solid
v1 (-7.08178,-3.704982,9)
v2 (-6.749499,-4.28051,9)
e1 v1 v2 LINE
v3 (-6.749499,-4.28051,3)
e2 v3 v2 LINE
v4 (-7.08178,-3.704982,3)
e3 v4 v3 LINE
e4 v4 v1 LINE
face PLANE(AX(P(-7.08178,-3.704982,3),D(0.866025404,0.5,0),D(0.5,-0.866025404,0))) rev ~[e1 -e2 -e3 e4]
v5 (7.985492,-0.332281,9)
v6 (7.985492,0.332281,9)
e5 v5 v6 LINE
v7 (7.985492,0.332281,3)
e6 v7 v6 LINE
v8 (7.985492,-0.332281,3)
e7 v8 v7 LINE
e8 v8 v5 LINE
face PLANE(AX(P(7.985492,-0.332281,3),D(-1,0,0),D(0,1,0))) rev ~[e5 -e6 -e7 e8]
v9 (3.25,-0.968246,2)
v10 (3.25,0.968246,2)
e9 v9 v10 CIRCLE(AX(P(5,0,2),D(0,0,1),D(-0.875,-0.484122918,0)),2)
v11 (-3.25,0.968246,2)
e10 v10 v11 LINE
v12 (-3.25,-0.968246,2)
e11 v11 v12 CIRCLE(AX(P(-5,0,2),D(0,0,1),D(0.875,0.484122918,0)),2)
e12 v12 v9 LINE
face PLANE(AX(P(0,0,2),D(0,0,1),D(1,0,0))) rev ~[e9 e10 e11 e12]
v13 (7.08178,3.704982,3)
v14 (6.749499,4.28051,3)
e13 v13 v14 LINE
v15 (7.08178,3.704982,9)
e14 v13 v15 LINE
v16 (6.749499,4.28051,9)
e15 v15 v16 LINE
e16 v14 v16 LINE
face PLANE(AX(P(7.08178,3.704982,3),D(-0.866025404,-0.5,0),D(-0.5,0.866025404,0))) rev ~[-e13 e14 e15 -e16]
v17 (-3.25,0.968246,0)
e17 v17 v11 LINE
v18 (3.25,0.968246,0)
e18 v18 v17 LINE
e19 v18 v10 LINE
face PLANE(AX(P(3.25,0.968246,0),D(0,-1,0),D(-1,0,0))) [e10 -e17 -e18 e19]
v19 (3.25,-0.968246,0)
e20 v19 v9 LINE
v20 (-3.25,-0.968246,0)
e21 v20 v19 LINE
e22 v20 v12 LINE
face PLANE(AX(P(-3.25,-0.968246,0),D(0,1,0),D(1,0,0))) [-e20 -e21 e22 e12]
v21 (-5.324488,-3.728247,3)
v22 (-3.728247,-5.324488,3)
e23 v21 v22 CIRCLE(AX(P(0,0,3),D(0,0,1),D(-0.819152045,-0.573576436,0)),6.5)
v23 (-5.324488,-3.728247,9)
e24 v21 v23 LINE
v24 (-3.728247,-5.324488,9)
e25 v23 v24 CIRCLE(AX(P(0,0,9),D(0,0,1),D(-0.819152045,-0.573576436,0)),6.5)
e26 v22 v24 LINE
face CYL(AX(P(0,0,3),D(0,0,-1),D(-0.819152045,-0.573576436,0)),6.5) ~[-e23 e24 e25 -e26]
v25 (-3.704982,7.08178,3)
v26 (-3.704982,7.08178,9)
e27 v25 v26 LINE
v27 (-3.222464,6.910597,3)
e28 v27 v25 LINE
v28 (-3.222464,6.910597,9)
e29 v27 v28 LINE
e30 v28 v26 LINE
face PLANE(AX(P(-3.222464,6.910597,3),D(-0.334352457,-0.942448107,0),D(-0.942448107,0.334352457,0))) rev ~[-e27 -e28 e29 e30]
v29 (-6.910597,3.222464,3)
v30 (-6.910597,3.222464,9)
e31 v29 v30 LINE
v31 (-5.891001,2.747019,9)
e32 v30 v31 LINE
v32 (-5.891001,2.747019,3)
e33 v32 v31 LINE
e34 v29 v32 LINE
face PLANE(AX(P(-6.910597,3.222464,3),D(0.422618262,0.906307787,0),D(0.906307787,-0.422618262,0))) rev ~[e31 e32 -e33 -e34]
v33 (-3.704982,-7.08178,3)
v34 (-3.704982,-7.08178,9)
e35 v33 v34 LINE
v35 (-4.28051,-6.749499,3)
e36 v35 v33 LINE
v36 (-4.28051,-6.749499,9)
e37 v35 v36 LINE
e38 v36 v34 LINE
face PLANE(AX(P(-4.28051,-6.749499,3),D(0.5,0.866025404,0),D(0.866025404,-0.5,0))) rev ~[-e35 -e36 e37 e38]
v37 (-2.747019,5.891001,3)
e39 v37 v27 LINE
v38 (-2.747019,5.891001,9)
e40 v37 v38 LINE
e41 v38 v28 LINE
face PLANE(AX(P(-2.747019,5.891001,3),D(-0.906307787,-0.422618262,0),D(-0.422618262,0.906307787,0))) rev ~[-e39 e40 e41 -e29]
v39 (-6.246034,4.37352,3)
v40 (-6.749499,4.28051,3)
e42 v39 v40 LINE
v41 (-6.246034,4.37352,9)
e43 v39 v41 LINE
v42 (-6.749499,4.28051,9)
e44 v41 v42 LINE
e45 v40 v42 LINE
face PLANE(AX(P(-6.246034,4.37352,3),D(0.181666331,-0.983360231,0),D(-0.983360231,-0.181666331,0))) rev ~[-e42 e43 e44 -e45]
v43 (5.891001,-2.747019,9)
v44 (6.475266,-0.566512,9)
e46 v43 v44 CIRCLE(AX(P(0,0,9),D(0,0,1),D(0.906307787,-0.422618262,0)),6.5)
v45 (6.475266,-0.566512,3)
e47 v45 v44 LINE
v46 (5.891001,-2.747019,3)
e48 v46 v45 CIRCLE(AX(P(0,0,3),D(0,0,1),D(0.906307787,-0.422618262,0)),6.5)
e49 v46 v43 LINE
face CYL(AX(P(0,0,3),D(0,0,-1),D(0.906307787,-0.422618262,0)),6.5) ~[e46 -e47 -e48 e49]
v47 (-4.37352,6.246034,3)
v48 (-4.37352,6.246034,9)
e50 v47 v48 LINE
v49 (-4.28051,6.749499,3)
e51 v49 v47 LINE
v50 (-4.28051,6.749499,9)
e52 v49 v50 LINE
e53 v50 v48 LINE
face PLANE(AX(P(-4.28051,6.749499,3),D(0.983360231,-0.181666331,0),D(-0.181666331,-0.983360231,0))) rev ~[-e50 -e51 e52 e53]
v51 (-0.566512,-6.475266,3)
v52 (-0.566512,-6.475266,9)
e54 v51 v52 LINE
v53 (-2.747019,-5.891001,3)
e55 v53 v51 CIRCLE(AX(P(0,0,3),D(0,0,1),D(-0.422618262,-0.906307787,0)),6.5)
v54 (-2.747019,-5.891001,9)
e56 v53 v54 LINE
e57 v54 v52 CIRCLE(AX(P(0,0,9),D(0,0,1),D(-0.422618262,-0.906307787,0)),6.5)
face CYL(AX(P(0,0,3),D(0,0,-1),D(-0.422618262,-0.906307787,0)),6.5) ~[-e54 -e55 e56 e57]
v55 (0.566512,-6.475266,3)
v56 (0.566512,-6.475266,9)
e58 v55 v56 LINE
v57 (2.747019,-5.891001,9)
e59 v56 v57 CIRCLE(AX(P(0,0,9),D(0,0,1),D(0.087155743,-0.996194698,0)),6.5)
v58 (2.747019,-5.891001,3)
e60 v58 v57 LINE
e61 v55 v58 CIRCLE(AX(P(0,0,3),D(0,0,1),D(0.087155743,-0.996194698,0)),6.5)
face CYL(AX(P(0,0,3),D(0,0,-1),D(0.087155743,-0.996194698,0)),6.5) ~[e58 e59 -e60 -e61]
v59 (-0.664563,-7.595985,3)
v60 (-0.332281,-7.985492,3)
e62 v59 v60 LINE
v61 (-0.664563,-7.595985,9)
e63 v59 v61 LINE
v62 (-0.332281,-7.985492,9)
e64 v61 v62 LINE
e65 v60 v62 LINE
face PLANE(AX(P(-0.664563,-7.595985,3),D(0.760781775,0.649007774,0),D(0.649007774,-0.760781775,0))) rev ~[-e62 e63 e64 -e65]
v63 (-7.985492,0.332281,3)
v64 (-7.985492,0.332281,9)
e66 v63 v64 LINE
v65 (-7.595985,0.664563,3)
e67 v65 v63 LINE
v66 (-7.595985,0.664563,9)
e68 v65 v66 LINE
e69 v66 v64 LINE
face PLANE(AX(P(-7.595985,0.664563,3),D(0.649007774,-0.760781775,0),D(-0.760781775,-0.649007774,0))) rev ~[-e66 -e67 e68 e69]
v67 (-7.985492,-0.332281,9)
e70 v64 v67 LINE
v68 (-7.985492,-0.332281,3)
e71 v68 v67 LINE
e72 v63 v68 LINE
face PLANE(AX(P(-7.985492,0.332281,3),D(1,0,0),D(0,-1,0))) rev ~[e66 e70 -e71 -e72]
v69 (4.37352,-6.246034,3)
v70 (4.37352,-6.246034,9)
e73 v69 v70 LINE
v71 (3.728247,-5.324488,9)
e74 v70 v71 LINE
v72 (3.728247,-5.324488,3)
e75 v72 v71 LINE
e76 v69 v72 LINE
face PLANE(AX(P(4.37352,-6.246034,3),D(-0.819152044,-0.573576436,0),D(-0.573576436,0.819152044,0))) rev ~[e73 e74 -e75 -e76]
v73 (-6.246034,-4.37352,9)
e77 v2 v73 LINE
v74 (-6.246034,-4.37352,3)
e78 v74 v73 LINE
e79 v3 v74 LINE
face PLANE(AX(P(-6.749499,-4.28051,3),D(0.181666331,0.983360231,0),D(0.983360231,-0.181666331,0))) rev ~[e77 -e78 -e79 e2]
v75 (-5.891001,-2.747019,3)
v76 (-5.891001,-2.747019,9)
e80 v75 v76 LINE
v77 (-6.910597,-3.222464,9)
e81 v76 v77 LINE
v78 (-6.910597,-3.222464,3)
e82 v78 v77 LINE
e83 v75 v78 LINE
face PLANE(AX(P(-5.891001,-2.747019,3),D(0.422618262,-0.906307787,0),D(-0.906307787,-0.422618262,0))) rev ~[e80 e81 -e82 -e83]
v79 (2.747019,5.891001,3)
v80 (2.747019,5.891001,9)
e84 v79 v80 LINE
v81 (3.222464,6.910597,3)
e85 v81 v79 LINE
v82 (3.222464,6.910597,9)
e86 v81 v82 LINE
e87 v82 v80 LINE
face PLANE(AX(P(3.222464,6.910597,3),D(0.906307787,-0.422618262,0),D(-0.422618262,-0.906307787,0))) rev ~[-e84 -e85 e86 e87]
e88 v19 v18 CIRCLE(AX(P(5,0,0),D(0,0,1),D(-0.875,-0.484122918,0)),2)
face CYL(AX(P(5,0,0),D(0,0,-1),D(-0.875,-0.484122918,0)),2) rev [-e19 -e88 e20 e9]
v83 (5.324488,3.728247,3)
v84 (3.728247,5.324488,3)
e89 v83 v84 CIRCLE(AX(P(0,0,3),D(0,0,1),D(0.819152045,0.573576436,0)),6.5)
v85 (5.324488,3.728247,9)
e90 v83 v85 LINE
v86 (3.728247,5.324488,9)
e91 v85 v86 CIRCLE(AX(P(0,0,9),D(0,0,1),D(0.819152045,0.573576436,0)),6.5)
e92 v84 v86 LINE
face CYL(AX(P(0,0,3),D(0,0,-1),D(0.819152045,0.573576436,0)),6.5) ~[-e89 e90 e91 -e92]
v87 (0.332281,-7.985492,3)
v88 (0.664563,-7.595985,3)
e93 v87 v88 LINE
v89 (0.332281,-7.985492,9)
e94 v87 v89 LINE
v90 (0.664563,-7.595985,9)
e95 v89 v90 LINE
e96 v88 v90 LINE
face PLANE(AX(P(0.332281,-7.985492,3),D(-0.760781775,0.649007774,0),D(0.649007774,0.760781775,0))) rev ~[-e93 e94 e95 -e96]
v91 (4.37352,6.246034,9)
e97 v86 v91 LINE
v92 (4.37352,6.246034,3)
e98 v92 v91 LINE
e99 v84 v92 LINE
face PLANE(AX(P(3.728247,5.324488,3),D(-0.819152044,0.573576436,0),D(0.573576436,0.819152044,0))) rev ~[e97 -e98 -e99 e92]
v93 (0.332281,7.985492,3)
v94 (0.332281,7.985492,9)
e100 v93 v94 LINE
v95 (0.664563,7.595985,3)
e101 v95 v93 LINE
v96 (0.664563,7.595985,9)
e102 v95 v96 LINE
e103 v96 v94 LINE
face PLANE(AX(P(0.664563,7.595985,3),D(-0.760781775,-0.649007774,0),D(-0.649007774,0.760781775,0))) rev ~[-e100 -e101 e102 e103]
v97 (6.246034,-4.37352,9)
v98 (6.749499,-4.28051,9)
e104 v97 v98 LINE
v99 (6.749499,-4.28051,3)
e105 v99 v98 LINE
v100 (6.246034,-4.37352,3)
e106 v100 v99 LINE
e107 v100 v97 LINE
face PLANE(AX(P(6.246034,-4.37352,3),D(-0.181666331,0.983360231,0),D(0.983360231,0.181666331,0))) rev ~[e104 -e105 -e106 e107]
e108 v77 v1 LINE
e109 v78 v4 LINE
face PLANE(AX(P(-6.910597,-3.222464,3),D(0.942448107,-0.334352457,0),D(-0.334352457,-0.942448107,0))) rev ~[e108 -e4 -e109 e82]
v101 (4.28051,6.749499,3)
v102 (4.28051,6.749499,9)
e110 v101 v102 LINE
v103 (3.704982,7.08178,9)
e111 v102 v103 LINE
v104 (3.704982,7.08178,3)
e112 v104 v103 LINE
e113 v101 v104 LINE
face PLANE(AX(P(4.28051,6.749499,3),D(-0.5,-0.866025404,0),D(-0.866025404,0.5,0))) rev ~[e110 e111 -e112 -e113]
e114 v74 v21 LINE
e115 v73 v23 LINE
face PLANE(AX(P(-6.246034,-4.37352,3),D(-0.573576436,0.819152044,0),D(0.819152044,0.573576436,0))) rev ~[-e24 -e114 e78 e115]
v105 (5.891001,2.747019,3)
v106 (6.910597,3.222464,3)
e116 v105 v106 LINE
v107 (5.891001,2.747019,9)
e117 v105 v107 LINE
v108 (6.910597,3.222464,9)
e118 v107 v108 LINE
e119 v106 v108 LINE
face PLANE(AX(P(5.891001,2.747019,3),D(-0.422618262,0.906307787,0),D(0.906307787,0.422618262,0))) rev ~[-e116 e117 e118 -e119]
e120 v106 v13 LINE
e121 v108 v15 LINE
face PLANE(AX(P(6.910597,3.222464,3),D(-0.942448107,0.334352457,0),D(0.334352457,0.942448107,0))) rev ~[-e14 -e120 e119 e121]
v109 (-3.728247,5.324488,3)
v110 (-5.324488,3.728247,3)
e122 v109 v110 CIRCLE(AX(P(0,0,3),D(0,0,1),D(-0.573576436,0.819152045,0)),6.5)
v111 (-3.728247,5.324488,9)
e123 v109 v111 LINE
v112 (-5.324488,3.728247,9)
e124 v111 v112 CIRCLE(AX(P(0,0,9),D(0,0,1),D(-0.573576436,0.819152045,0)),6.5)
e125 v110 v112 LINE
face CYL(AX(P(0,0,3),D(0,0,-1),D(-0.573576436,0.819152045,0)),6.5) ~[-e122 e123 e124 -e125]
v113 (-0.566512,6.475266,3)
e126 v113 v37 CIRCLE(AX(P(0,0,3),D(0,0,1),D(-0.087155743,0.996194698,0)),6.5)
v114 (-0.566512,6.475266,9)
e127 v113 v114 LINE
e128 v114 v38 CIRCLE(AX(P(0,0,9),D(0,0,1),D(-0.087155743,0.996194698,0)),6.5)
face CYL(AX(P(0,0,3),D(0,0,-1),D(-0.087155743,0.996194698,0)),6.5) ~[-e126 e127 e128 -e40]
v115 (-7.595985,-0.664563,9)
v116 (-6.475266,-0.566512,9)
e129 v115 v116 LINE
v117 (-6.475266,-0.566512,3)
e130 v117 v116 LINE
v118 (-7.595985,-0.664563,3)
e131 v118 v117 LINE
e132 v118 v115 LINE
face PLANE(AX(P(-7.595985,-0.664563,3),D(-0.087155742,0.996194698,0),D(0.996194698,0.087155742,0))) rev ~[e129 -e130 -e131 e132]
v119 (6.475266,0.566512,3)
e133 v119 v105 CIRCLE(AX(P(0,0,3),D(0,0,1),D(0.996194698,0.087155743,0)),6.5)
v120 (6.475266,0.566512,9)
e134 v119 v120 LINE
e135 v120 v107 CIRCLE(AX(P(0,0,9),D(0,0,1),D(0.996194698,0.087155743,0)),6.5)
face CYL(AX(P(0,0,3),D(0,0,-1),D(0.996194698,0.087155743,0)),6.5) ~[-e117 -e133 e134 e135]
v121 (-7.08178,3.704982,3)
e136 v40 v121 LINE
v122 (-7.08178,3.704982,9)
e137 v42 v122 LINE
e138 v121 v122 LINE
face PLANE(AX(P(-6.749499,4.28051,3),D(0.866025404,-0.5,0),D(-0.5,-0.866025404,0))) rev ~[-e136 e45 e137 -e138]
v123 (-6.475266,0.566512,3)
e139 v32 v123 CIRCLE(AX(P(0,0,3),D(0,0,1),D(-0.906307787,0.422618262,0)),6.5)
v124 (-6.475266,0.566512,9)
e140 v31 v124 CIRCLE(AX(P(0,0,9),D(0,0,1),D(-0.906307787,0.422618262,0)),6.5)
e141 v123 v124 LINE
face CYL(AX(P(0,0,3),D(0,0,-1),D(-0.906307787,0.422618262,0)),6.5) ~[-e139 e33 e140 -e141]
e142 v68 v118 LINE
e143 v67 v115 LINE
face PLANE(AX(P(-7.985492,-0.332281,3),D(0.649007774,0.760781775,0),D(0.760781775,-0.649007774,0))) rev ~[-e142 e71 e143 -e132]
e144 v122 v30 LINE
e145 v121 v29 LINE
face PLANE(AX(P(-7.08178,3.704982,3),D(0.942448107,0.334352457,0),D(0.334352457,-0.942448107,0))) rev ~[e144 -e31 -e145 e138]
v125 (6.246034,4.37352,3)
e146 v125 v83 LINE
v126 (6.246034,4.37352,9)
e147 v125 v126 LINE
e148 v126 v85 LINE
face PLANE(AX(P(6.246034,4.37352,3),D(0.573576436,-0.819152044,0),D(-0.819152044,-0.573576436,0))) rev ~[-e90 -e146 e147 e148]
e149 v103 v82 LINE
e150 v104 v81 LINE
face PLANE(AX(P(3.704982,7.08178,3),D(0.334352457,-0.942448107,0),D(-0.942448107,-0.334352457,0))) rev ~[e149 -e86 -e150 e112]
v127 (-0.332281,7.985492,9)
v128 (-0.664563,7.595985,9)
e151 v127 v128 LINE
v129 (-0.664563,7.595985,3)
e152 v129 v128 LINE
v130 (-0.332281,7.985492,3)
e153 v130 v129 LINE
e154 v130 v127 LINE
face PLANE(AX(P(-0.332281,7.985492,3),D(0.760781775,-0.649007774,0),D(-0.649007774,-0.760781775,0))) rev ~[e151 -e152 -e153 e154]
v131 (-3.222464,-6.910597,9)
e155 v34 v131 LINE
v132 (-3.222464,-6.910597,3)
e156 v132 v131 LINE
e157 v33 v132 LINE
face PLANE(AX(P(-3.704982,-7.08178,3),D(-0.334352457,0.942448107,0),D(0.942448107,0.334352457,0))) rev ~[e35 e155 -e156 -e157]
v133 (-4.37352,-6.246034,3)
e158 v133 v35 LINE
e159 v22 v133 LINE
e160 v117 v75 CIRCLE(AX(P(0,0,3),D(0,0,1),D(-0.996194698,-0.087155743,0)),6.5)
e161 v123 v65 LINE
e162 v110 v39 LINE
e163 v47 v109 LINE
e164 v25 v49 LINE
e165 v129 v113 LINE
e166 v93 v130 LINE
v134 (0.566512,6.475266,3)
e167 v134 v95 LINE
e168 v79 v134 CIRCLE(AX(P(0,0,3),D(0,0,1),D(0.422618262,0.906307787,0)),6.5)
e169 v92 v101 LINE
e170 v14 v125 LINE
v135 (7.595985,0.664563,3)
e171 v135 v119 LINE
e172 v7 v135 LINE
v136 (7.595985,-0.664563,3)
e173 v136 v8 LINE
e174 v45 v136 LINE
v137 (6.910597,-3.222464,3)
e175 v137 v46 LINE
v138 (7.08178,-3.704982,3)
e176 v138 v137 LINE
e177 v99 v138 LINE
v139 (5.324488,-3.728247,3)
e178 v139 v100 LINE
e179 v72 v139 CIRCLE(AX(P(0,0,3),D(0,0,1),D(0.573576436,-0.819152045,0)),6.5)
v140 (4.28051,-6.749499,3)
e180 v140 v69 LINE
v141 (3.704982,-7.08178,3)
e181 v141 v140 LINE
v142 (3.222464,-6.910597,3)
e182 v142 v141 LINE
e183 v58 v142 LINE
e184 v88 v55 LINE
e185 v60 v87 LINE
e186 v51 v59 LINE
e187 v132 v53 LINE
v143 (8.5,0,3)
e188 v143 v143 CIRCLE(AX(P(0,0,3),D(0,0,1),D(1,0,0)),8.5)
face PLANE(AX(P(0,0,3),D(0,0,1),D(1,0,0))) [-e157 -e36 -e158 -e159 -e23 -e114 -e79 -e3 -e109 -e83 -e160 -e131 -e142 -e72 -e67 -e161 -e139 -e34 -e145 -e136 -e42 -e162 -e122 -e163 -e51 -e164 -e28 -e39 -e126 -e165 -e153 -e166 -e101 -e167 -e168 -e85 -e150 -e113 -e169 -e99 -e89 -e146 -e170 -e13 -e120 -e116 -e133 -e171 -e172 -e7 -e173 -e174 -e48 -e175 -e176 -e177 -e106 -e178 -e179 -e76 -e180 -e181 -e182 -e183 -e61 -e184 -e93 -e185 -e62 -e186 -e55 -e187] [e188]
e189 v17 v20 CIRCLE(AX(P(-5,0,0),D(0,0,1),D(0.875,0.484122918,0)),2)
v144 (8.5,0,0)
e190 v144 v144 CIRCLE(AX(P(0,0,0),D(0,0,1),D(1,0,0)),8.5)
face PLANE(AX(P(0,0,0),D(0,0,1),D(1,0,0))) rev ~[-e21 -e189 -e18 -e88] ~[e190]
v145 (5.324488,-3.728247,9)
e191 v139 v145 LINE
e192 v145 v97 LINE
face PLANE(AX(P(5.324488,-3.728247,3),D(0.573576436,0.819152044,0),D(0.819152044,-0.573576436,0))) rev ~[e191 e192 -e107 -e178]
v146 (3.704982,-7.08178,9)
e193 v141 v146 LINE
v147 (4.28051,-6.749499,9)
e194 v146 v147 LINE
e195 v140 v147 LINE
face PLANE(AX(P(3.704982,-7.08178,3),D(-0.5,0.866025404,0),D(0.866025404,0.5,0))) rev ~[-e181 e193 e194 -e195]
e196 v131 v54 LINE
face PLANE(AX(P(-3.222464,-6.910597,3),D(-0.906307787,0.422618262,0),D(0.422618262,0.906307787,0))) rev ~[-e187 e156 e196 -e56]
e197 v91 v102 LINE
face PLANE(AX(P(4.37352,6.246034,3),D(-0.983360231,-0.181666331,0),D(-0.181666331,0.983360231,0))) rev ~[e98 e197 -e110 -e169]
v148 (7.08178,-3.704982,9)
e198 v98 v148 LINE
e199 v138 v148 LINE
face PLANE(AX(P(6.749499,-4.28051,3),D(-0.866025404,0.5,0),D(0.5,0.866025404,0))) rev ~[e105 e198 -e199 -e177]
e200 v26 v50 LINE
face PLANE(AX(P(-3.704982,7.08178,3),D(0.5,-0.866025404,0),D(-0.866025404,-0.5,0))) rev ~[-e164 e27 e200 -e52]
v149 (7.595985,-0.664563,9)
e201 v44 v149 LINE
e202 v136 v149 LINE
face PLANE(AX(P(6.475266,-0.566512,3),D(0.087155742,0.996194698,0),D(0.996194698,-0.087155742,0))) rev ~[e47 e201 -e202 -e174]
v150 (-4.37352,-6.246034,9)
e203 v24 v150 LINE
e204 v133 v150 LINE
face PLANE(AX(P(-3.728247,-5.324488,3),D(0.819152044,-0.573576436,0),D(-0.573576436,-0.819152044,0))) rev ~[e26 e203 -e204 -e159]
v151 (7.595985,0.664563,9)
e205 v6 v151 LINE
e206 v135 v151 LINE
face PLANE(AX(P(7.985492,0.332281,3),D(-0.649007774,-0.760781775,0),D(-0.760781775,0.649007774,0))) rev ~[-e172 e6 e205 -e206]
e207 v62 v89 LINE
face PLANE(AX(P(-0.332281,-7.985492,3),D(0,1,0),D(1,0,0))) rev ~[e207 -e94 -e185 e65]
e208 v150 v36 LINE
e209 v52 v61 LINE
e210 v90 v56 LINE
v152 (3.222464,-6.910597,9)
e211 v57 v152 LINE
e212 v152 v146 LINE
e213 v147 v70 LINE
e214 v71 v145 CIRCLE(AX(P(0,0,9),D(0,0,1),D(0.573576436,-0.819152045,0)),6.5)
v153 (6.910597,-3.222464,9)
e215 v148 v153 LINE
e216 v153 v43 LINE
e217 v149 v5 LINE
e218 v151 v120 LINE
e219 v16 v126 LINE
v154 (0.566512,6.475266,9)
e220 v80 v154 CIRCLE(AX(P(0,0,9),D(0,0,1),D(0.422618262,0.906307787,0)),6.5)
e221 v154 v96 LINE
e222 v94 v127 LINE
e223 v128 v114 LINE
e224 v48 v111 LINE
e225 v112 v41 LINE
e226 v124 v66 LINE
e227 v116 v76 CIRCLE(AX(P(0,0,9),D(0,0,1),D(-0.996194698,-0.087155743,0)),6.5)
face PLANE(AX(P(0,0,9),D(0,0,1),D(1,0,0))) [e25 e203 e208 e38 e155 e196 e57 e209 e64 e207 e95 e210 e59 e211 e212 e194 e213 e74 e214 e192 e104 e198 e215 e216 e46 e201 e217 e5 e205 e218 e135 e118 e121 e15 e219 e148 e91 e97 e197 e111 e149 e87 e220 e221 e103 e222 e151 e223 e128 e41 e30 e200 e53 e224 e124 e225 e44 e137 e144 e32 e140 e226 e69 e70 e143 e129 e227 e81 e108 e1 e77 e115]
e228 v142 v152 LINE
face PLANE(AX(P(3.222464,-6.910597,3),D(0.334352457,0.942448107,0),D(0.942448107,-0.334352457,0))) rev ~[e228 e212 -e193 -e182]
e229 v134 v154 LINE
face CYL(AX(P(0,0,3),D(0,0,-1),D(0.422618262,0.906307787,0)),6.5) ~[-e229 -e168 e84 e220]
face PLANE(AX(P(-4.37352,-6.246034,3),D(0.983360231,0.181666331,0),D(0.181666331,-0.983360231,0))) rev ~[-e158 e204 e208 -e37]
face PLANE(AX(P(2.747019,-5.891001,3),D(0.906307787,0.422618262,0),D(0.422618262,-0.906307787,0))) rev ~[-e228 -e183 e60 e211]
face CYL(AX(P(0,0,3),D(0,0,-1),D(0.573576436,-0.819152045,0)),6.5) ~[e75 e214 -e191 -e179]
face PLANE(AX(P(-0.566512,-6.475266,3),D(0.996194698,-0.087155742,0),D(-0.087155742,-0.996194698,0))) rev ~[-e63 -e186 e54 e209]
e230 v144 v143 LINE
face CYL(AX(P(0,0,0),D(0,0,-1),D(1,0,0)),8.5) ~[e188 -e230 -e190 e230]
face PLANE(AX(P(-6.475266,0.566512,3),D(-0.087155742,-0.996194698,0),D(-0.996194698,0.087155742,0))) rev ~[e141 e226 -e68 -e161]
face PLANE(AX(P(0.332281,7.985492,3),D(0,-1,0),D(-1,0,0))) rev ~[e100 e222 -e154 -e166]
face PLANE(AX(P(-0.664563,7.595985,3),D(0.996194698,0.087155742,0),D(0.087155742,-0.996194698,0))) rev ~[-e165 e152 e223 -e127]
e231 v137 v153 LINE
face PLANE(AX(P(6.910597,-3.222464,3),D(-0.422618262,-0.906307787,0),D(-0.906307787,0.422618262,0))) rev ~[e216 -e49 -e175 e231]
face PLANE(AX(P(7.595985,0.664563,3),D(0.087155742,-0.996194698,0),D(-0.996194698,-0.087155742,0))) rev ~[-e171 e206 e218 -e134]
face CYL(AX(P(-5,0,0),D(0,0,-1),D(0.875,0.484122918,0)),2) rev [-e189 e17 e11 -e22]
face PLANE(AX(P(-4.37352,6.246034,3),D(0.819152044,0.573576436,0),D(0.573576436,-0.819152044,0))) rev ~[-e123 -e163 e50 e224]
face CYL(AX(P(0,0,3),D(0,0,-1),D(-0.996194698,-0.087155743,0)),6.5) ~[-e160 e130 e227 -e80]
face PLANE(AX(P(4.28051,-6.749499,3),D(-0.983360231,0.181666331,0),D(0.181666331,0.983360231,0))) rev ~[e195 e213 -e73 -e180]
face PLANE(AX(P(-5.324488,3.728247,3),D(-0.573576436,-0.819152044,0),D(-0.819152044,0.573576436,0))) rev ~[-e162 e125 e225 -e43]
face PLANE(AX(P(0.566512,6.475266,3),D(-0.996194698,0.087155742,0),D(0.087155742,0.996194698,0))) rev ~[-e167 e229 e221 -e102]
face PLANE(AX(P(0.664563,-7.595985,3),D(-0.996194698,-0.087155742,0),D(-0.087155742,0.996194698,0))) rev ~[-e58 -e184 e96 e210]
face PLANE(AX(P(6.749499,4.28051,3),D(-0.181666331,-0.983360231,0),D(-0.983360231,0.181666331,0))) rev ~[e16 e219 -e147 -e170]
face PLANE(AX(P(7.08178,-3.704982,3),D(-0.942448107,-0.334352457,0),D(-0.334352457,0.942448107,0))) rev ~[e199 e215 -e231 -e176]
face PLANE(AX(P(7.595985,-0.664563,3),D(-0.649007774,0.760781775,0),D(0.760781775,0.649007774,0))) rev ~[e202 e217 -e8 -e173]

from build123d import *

# Parameters (mm, degrees)
SKETCH1_R           = 8.5
BOSS_EXTRUDE1_DEPTH = 3
CUT_EXTRUDE2_DEPTH  = 2
BOSS_EXTRUDE4_DEPTH = 6


with BuildPart() as part:
    # Sketch1 → Boss-Extrude1 (new body)
    with BuildSketch(Plane.XY):
        Circle(SKETCH1_R)
    extrude(amount=BOSS_EXTRUDE1_DEPTH)

    # Sketch4 → Cut-Extrude2 (cut)
    with BuildSketch(Plane(origin=(0, 0, 0), x_dir=(-1, 0, 0), z_dir=(0, 0, -1))):
        with BuildLine():
            Line((-3.25, 0.968245837), (3.25, 0.968245837))
            ThreePointArc((3.25, 0.968245837), (7, 0), (3.25, -0.968245837))
            Line((3.25, -0.968245837), (-3.25, -0.968245837))
            ThreePointArc((-3.25, -0.968245837), (-7, 0), (-3.25, 0.968245837))
        make_face()
    extrude(amount=-CUT_EXTRUDE2_DEPTH, mode=Mode.SUBTRACT)

    # Sketch2 → Boss-Extrude4 (add)
    with BuildSketch(Plane.XY.offset(3)):
        with BuildLine():
            Line((3.222464246, 6.910596876), (2.747018701, 5.891000616))
            ThreePointArc((2.747018701, 5.891000616), (1.682323793, 6.278517871), (0.566512328, 6.475265538))
            Line((0.566512328, 6.475265538), (0.664562538, 7.595984573))
            Line((0.664562538, 7.595984573), (0.332281269, 7.985492286))
            Line((0.332281269, 7.985492286), (-0.332281269, 7.985492286))
            Line((-0.332281269, 7.985492286), (-0.664562538, 7.595984573))
            Line((-0.664562538, 7.595984573), (-0.566512328, 6.475265538))
            ThreePointArc((-0.566512328, 6.475265538), (-1.682323793, 6.278517871), (-2.747018701, 5.891000616))
            Line((-2.747018701, 5.891000616), (-3.222464246, 6.910596876))
            Line((-3.222464246, 6.910596876), (-3.704982123, 7.081779816))
            Line((-3.704982123, 7.081779816), (-4.280510164, 6.749498547))
            Line((-4.280510164, 6.749498547), (-4.373520327, 6.246034338))
            Line((-4.373520327, 6.246034338), (-3.728246836, 5.324488288))
            ThreePointArc((-3.728246836, 5.324488288), (-4.596194078, 4.596194078), (-5.324488288, 3.728246836))
            Line((-5.324488288, 3.728246836), (-6.246034338, 4.373520327))
            Line((-6.246034338, 4.373520327), (-6.749498547, 4.280510164))
            Line((-6.749498547, 4.280510164), (-7.081779816, 3.704982123))
            Line((-7.081779816, 3.704982123), (-6.910596876, 3.222464246))
            Line((-6.910596876, 3.222464246), (-5.891000616, 2.747018701))
            ThreePointArc((-5.891000616, 2.747018701), (-6.278517871, 1.682323793), (-6.475265538, 0.566512328))
            Line((-6.475265538, 0.566512328), (-7.595984573, 0.664562538))
            Line((-7.595984573, 0.664562538), (-7.985492286, 0.332281269))
            Line((-7.985492286, 0.332281269), (-7.985492286, -0.332281269))
            Line((-7.985492286, -0.332281269), (-7.595984573, -0.664562538))
            Line((-7.595984573, -0.664562538), (-6.475265538, -0.566512328))
            ThreePointArc((-6.475265538, -0.566512328), (-6.278517871, -1.682323793), (-5.891000616, -2.747018701))
            Line((-5.891000616, -2.747018701), (-6.910596876, -3.222464246))
            Line((-6.910596876, -3.222464246), (-7.081779816, -3.704982123))
            Line((-7.081779816, -3.704982123), (-6.749498547, -4.280510164))
            Line((-6.749498547, -4.280510164), (-6.246034338, -4.373520327))
            Line((-6.246034338, -4.373520327), (-5.324488288, -3.728246836))
            ThreePointArc((-5.324488288, -3.728246836), (-4.596194078, -4.596194078), (-3.728246836, -5.324488288))
            Line((-3.728246836, -5.324488288), (-4.373520327, -6.246034338))
            Line((-4.373520327, -6.246034338), (-4.280510164, -6.749498547))
            Line((-4.280510164, -6.749498547), (-3.704982123, -7.081779816))
            Line((-3.704982123, -7.081779816), (-3.222464246, -6.910596876))
            Line((-3.222464246, -6.910596876), (-2.747018701, -5.891000616))
            ThreePointArc((-2.747018701, -5.891000616), (-1.682323793, -6.278517871), (-0.566512328, -6.475265538))
            Line((-0.566512328, -6.475265538), (-0.664562538, -7.595984573))
            Line((-0.664562538, -7.595984573), (-0.332281269, -7.985492286))
            Line((-0.332281269, -7.985492286), (0.332281269, -7.985492286))
            Line((0.332281269, -7.985492286), (0.664562538, -7.595984573))
            Line((0.664562538, -7.595984573), (0.566512328, -6.475265538))
            ThreePointArc((0.566512328, -6.475265538), (1.682323793, -6.278517871), (2.747018701, -5.891000616))
            Line((2.747018701, -5.891000616), (3.222464246, -6.910596876))
            Line((3.222464246, -6.910596876), (3.704982123, -7.081779816))
            Line((3.704982123, -7.081779816), (4.280510164, -6.749498547))
            Line((4.280510164, -6.749498547), (4.373520327, -6.246034338))
            Line((4.373520327, -6.246034338), (3.728246836, -5.324488288))
            ThreePointArc((3.728246836, -5.324488288), (4.596194078, -4.596194078), (5.324488288, -3.728246836))
            Line((5.324488288, -3.728246836), (6.246034338, -4.373520327))
            Line((6.246034338, -4.373520327), (6.749498547, -4.280510164))
            Line((6.749498547, -4.280510164), (7.081779816, -3.704982123))
            Line((7.081779816, -3.704982123), (6.910596876, -3.222464246))
            Line((6.910596876, -3.222464246), (5.891000616, -2.747018701))
            ThreePointArc((5.891000616, -2.747018701), (6.278517871, -1.682323793), (6.475265538, -0.566512328))
            Line((6.475265538, -0.566512328), (7.595984573, -0.664562538))
            Line((7.595984573, -0.664562538), (7.985492286, -0.332281269))
            Line((7.985492286, -0.332281269), (7.985492286, 0.332281269))
            Line((7.985492286, 0.332281269), (7.595984573, 0.664562538))
            Line((7.595984573, 0.664562538), (6.475265538, 0.566512328))
            ThreePointArc((6.475265538, 0.566512328), (6.278517871, 1.682323793), (5.891000616, 2.747018701))
            Line((5.891000616, 2.747018701), (6.910596876, 3.222464246))
            Line((6.910596876, 3.222464246), (7.081779816, 3.704982123))
            Line((7.081779816, 3.704982123), (6.749498547, 4.280510164))
            Line((6.749498547, 4.280510164), (6.246034338, 4.373520327))
            Line((6.246034338, 4.373520327), (5.324488288, 3.728246836))
            ThreePointArc((5.324488288, 3.728246836), (4.596194078, 4.596194078), (3.728246836, 5.324488288))
            Line((3.728246836, 5.324488288), (4.373520327, 6.246034338))
            Line((4.373520327, 6.246034338), (4.280510164, 6.749498547))
            Line((4.280510164, 6.749498547), (3.704982123, 7.081779816))
            Line((3.704982123, 7.081779816), (3.222464246, 6.910596876))
        make_face()
    extrude(amount=BOSS_EXTRUDE4_DEPTH)


solid = part.part
